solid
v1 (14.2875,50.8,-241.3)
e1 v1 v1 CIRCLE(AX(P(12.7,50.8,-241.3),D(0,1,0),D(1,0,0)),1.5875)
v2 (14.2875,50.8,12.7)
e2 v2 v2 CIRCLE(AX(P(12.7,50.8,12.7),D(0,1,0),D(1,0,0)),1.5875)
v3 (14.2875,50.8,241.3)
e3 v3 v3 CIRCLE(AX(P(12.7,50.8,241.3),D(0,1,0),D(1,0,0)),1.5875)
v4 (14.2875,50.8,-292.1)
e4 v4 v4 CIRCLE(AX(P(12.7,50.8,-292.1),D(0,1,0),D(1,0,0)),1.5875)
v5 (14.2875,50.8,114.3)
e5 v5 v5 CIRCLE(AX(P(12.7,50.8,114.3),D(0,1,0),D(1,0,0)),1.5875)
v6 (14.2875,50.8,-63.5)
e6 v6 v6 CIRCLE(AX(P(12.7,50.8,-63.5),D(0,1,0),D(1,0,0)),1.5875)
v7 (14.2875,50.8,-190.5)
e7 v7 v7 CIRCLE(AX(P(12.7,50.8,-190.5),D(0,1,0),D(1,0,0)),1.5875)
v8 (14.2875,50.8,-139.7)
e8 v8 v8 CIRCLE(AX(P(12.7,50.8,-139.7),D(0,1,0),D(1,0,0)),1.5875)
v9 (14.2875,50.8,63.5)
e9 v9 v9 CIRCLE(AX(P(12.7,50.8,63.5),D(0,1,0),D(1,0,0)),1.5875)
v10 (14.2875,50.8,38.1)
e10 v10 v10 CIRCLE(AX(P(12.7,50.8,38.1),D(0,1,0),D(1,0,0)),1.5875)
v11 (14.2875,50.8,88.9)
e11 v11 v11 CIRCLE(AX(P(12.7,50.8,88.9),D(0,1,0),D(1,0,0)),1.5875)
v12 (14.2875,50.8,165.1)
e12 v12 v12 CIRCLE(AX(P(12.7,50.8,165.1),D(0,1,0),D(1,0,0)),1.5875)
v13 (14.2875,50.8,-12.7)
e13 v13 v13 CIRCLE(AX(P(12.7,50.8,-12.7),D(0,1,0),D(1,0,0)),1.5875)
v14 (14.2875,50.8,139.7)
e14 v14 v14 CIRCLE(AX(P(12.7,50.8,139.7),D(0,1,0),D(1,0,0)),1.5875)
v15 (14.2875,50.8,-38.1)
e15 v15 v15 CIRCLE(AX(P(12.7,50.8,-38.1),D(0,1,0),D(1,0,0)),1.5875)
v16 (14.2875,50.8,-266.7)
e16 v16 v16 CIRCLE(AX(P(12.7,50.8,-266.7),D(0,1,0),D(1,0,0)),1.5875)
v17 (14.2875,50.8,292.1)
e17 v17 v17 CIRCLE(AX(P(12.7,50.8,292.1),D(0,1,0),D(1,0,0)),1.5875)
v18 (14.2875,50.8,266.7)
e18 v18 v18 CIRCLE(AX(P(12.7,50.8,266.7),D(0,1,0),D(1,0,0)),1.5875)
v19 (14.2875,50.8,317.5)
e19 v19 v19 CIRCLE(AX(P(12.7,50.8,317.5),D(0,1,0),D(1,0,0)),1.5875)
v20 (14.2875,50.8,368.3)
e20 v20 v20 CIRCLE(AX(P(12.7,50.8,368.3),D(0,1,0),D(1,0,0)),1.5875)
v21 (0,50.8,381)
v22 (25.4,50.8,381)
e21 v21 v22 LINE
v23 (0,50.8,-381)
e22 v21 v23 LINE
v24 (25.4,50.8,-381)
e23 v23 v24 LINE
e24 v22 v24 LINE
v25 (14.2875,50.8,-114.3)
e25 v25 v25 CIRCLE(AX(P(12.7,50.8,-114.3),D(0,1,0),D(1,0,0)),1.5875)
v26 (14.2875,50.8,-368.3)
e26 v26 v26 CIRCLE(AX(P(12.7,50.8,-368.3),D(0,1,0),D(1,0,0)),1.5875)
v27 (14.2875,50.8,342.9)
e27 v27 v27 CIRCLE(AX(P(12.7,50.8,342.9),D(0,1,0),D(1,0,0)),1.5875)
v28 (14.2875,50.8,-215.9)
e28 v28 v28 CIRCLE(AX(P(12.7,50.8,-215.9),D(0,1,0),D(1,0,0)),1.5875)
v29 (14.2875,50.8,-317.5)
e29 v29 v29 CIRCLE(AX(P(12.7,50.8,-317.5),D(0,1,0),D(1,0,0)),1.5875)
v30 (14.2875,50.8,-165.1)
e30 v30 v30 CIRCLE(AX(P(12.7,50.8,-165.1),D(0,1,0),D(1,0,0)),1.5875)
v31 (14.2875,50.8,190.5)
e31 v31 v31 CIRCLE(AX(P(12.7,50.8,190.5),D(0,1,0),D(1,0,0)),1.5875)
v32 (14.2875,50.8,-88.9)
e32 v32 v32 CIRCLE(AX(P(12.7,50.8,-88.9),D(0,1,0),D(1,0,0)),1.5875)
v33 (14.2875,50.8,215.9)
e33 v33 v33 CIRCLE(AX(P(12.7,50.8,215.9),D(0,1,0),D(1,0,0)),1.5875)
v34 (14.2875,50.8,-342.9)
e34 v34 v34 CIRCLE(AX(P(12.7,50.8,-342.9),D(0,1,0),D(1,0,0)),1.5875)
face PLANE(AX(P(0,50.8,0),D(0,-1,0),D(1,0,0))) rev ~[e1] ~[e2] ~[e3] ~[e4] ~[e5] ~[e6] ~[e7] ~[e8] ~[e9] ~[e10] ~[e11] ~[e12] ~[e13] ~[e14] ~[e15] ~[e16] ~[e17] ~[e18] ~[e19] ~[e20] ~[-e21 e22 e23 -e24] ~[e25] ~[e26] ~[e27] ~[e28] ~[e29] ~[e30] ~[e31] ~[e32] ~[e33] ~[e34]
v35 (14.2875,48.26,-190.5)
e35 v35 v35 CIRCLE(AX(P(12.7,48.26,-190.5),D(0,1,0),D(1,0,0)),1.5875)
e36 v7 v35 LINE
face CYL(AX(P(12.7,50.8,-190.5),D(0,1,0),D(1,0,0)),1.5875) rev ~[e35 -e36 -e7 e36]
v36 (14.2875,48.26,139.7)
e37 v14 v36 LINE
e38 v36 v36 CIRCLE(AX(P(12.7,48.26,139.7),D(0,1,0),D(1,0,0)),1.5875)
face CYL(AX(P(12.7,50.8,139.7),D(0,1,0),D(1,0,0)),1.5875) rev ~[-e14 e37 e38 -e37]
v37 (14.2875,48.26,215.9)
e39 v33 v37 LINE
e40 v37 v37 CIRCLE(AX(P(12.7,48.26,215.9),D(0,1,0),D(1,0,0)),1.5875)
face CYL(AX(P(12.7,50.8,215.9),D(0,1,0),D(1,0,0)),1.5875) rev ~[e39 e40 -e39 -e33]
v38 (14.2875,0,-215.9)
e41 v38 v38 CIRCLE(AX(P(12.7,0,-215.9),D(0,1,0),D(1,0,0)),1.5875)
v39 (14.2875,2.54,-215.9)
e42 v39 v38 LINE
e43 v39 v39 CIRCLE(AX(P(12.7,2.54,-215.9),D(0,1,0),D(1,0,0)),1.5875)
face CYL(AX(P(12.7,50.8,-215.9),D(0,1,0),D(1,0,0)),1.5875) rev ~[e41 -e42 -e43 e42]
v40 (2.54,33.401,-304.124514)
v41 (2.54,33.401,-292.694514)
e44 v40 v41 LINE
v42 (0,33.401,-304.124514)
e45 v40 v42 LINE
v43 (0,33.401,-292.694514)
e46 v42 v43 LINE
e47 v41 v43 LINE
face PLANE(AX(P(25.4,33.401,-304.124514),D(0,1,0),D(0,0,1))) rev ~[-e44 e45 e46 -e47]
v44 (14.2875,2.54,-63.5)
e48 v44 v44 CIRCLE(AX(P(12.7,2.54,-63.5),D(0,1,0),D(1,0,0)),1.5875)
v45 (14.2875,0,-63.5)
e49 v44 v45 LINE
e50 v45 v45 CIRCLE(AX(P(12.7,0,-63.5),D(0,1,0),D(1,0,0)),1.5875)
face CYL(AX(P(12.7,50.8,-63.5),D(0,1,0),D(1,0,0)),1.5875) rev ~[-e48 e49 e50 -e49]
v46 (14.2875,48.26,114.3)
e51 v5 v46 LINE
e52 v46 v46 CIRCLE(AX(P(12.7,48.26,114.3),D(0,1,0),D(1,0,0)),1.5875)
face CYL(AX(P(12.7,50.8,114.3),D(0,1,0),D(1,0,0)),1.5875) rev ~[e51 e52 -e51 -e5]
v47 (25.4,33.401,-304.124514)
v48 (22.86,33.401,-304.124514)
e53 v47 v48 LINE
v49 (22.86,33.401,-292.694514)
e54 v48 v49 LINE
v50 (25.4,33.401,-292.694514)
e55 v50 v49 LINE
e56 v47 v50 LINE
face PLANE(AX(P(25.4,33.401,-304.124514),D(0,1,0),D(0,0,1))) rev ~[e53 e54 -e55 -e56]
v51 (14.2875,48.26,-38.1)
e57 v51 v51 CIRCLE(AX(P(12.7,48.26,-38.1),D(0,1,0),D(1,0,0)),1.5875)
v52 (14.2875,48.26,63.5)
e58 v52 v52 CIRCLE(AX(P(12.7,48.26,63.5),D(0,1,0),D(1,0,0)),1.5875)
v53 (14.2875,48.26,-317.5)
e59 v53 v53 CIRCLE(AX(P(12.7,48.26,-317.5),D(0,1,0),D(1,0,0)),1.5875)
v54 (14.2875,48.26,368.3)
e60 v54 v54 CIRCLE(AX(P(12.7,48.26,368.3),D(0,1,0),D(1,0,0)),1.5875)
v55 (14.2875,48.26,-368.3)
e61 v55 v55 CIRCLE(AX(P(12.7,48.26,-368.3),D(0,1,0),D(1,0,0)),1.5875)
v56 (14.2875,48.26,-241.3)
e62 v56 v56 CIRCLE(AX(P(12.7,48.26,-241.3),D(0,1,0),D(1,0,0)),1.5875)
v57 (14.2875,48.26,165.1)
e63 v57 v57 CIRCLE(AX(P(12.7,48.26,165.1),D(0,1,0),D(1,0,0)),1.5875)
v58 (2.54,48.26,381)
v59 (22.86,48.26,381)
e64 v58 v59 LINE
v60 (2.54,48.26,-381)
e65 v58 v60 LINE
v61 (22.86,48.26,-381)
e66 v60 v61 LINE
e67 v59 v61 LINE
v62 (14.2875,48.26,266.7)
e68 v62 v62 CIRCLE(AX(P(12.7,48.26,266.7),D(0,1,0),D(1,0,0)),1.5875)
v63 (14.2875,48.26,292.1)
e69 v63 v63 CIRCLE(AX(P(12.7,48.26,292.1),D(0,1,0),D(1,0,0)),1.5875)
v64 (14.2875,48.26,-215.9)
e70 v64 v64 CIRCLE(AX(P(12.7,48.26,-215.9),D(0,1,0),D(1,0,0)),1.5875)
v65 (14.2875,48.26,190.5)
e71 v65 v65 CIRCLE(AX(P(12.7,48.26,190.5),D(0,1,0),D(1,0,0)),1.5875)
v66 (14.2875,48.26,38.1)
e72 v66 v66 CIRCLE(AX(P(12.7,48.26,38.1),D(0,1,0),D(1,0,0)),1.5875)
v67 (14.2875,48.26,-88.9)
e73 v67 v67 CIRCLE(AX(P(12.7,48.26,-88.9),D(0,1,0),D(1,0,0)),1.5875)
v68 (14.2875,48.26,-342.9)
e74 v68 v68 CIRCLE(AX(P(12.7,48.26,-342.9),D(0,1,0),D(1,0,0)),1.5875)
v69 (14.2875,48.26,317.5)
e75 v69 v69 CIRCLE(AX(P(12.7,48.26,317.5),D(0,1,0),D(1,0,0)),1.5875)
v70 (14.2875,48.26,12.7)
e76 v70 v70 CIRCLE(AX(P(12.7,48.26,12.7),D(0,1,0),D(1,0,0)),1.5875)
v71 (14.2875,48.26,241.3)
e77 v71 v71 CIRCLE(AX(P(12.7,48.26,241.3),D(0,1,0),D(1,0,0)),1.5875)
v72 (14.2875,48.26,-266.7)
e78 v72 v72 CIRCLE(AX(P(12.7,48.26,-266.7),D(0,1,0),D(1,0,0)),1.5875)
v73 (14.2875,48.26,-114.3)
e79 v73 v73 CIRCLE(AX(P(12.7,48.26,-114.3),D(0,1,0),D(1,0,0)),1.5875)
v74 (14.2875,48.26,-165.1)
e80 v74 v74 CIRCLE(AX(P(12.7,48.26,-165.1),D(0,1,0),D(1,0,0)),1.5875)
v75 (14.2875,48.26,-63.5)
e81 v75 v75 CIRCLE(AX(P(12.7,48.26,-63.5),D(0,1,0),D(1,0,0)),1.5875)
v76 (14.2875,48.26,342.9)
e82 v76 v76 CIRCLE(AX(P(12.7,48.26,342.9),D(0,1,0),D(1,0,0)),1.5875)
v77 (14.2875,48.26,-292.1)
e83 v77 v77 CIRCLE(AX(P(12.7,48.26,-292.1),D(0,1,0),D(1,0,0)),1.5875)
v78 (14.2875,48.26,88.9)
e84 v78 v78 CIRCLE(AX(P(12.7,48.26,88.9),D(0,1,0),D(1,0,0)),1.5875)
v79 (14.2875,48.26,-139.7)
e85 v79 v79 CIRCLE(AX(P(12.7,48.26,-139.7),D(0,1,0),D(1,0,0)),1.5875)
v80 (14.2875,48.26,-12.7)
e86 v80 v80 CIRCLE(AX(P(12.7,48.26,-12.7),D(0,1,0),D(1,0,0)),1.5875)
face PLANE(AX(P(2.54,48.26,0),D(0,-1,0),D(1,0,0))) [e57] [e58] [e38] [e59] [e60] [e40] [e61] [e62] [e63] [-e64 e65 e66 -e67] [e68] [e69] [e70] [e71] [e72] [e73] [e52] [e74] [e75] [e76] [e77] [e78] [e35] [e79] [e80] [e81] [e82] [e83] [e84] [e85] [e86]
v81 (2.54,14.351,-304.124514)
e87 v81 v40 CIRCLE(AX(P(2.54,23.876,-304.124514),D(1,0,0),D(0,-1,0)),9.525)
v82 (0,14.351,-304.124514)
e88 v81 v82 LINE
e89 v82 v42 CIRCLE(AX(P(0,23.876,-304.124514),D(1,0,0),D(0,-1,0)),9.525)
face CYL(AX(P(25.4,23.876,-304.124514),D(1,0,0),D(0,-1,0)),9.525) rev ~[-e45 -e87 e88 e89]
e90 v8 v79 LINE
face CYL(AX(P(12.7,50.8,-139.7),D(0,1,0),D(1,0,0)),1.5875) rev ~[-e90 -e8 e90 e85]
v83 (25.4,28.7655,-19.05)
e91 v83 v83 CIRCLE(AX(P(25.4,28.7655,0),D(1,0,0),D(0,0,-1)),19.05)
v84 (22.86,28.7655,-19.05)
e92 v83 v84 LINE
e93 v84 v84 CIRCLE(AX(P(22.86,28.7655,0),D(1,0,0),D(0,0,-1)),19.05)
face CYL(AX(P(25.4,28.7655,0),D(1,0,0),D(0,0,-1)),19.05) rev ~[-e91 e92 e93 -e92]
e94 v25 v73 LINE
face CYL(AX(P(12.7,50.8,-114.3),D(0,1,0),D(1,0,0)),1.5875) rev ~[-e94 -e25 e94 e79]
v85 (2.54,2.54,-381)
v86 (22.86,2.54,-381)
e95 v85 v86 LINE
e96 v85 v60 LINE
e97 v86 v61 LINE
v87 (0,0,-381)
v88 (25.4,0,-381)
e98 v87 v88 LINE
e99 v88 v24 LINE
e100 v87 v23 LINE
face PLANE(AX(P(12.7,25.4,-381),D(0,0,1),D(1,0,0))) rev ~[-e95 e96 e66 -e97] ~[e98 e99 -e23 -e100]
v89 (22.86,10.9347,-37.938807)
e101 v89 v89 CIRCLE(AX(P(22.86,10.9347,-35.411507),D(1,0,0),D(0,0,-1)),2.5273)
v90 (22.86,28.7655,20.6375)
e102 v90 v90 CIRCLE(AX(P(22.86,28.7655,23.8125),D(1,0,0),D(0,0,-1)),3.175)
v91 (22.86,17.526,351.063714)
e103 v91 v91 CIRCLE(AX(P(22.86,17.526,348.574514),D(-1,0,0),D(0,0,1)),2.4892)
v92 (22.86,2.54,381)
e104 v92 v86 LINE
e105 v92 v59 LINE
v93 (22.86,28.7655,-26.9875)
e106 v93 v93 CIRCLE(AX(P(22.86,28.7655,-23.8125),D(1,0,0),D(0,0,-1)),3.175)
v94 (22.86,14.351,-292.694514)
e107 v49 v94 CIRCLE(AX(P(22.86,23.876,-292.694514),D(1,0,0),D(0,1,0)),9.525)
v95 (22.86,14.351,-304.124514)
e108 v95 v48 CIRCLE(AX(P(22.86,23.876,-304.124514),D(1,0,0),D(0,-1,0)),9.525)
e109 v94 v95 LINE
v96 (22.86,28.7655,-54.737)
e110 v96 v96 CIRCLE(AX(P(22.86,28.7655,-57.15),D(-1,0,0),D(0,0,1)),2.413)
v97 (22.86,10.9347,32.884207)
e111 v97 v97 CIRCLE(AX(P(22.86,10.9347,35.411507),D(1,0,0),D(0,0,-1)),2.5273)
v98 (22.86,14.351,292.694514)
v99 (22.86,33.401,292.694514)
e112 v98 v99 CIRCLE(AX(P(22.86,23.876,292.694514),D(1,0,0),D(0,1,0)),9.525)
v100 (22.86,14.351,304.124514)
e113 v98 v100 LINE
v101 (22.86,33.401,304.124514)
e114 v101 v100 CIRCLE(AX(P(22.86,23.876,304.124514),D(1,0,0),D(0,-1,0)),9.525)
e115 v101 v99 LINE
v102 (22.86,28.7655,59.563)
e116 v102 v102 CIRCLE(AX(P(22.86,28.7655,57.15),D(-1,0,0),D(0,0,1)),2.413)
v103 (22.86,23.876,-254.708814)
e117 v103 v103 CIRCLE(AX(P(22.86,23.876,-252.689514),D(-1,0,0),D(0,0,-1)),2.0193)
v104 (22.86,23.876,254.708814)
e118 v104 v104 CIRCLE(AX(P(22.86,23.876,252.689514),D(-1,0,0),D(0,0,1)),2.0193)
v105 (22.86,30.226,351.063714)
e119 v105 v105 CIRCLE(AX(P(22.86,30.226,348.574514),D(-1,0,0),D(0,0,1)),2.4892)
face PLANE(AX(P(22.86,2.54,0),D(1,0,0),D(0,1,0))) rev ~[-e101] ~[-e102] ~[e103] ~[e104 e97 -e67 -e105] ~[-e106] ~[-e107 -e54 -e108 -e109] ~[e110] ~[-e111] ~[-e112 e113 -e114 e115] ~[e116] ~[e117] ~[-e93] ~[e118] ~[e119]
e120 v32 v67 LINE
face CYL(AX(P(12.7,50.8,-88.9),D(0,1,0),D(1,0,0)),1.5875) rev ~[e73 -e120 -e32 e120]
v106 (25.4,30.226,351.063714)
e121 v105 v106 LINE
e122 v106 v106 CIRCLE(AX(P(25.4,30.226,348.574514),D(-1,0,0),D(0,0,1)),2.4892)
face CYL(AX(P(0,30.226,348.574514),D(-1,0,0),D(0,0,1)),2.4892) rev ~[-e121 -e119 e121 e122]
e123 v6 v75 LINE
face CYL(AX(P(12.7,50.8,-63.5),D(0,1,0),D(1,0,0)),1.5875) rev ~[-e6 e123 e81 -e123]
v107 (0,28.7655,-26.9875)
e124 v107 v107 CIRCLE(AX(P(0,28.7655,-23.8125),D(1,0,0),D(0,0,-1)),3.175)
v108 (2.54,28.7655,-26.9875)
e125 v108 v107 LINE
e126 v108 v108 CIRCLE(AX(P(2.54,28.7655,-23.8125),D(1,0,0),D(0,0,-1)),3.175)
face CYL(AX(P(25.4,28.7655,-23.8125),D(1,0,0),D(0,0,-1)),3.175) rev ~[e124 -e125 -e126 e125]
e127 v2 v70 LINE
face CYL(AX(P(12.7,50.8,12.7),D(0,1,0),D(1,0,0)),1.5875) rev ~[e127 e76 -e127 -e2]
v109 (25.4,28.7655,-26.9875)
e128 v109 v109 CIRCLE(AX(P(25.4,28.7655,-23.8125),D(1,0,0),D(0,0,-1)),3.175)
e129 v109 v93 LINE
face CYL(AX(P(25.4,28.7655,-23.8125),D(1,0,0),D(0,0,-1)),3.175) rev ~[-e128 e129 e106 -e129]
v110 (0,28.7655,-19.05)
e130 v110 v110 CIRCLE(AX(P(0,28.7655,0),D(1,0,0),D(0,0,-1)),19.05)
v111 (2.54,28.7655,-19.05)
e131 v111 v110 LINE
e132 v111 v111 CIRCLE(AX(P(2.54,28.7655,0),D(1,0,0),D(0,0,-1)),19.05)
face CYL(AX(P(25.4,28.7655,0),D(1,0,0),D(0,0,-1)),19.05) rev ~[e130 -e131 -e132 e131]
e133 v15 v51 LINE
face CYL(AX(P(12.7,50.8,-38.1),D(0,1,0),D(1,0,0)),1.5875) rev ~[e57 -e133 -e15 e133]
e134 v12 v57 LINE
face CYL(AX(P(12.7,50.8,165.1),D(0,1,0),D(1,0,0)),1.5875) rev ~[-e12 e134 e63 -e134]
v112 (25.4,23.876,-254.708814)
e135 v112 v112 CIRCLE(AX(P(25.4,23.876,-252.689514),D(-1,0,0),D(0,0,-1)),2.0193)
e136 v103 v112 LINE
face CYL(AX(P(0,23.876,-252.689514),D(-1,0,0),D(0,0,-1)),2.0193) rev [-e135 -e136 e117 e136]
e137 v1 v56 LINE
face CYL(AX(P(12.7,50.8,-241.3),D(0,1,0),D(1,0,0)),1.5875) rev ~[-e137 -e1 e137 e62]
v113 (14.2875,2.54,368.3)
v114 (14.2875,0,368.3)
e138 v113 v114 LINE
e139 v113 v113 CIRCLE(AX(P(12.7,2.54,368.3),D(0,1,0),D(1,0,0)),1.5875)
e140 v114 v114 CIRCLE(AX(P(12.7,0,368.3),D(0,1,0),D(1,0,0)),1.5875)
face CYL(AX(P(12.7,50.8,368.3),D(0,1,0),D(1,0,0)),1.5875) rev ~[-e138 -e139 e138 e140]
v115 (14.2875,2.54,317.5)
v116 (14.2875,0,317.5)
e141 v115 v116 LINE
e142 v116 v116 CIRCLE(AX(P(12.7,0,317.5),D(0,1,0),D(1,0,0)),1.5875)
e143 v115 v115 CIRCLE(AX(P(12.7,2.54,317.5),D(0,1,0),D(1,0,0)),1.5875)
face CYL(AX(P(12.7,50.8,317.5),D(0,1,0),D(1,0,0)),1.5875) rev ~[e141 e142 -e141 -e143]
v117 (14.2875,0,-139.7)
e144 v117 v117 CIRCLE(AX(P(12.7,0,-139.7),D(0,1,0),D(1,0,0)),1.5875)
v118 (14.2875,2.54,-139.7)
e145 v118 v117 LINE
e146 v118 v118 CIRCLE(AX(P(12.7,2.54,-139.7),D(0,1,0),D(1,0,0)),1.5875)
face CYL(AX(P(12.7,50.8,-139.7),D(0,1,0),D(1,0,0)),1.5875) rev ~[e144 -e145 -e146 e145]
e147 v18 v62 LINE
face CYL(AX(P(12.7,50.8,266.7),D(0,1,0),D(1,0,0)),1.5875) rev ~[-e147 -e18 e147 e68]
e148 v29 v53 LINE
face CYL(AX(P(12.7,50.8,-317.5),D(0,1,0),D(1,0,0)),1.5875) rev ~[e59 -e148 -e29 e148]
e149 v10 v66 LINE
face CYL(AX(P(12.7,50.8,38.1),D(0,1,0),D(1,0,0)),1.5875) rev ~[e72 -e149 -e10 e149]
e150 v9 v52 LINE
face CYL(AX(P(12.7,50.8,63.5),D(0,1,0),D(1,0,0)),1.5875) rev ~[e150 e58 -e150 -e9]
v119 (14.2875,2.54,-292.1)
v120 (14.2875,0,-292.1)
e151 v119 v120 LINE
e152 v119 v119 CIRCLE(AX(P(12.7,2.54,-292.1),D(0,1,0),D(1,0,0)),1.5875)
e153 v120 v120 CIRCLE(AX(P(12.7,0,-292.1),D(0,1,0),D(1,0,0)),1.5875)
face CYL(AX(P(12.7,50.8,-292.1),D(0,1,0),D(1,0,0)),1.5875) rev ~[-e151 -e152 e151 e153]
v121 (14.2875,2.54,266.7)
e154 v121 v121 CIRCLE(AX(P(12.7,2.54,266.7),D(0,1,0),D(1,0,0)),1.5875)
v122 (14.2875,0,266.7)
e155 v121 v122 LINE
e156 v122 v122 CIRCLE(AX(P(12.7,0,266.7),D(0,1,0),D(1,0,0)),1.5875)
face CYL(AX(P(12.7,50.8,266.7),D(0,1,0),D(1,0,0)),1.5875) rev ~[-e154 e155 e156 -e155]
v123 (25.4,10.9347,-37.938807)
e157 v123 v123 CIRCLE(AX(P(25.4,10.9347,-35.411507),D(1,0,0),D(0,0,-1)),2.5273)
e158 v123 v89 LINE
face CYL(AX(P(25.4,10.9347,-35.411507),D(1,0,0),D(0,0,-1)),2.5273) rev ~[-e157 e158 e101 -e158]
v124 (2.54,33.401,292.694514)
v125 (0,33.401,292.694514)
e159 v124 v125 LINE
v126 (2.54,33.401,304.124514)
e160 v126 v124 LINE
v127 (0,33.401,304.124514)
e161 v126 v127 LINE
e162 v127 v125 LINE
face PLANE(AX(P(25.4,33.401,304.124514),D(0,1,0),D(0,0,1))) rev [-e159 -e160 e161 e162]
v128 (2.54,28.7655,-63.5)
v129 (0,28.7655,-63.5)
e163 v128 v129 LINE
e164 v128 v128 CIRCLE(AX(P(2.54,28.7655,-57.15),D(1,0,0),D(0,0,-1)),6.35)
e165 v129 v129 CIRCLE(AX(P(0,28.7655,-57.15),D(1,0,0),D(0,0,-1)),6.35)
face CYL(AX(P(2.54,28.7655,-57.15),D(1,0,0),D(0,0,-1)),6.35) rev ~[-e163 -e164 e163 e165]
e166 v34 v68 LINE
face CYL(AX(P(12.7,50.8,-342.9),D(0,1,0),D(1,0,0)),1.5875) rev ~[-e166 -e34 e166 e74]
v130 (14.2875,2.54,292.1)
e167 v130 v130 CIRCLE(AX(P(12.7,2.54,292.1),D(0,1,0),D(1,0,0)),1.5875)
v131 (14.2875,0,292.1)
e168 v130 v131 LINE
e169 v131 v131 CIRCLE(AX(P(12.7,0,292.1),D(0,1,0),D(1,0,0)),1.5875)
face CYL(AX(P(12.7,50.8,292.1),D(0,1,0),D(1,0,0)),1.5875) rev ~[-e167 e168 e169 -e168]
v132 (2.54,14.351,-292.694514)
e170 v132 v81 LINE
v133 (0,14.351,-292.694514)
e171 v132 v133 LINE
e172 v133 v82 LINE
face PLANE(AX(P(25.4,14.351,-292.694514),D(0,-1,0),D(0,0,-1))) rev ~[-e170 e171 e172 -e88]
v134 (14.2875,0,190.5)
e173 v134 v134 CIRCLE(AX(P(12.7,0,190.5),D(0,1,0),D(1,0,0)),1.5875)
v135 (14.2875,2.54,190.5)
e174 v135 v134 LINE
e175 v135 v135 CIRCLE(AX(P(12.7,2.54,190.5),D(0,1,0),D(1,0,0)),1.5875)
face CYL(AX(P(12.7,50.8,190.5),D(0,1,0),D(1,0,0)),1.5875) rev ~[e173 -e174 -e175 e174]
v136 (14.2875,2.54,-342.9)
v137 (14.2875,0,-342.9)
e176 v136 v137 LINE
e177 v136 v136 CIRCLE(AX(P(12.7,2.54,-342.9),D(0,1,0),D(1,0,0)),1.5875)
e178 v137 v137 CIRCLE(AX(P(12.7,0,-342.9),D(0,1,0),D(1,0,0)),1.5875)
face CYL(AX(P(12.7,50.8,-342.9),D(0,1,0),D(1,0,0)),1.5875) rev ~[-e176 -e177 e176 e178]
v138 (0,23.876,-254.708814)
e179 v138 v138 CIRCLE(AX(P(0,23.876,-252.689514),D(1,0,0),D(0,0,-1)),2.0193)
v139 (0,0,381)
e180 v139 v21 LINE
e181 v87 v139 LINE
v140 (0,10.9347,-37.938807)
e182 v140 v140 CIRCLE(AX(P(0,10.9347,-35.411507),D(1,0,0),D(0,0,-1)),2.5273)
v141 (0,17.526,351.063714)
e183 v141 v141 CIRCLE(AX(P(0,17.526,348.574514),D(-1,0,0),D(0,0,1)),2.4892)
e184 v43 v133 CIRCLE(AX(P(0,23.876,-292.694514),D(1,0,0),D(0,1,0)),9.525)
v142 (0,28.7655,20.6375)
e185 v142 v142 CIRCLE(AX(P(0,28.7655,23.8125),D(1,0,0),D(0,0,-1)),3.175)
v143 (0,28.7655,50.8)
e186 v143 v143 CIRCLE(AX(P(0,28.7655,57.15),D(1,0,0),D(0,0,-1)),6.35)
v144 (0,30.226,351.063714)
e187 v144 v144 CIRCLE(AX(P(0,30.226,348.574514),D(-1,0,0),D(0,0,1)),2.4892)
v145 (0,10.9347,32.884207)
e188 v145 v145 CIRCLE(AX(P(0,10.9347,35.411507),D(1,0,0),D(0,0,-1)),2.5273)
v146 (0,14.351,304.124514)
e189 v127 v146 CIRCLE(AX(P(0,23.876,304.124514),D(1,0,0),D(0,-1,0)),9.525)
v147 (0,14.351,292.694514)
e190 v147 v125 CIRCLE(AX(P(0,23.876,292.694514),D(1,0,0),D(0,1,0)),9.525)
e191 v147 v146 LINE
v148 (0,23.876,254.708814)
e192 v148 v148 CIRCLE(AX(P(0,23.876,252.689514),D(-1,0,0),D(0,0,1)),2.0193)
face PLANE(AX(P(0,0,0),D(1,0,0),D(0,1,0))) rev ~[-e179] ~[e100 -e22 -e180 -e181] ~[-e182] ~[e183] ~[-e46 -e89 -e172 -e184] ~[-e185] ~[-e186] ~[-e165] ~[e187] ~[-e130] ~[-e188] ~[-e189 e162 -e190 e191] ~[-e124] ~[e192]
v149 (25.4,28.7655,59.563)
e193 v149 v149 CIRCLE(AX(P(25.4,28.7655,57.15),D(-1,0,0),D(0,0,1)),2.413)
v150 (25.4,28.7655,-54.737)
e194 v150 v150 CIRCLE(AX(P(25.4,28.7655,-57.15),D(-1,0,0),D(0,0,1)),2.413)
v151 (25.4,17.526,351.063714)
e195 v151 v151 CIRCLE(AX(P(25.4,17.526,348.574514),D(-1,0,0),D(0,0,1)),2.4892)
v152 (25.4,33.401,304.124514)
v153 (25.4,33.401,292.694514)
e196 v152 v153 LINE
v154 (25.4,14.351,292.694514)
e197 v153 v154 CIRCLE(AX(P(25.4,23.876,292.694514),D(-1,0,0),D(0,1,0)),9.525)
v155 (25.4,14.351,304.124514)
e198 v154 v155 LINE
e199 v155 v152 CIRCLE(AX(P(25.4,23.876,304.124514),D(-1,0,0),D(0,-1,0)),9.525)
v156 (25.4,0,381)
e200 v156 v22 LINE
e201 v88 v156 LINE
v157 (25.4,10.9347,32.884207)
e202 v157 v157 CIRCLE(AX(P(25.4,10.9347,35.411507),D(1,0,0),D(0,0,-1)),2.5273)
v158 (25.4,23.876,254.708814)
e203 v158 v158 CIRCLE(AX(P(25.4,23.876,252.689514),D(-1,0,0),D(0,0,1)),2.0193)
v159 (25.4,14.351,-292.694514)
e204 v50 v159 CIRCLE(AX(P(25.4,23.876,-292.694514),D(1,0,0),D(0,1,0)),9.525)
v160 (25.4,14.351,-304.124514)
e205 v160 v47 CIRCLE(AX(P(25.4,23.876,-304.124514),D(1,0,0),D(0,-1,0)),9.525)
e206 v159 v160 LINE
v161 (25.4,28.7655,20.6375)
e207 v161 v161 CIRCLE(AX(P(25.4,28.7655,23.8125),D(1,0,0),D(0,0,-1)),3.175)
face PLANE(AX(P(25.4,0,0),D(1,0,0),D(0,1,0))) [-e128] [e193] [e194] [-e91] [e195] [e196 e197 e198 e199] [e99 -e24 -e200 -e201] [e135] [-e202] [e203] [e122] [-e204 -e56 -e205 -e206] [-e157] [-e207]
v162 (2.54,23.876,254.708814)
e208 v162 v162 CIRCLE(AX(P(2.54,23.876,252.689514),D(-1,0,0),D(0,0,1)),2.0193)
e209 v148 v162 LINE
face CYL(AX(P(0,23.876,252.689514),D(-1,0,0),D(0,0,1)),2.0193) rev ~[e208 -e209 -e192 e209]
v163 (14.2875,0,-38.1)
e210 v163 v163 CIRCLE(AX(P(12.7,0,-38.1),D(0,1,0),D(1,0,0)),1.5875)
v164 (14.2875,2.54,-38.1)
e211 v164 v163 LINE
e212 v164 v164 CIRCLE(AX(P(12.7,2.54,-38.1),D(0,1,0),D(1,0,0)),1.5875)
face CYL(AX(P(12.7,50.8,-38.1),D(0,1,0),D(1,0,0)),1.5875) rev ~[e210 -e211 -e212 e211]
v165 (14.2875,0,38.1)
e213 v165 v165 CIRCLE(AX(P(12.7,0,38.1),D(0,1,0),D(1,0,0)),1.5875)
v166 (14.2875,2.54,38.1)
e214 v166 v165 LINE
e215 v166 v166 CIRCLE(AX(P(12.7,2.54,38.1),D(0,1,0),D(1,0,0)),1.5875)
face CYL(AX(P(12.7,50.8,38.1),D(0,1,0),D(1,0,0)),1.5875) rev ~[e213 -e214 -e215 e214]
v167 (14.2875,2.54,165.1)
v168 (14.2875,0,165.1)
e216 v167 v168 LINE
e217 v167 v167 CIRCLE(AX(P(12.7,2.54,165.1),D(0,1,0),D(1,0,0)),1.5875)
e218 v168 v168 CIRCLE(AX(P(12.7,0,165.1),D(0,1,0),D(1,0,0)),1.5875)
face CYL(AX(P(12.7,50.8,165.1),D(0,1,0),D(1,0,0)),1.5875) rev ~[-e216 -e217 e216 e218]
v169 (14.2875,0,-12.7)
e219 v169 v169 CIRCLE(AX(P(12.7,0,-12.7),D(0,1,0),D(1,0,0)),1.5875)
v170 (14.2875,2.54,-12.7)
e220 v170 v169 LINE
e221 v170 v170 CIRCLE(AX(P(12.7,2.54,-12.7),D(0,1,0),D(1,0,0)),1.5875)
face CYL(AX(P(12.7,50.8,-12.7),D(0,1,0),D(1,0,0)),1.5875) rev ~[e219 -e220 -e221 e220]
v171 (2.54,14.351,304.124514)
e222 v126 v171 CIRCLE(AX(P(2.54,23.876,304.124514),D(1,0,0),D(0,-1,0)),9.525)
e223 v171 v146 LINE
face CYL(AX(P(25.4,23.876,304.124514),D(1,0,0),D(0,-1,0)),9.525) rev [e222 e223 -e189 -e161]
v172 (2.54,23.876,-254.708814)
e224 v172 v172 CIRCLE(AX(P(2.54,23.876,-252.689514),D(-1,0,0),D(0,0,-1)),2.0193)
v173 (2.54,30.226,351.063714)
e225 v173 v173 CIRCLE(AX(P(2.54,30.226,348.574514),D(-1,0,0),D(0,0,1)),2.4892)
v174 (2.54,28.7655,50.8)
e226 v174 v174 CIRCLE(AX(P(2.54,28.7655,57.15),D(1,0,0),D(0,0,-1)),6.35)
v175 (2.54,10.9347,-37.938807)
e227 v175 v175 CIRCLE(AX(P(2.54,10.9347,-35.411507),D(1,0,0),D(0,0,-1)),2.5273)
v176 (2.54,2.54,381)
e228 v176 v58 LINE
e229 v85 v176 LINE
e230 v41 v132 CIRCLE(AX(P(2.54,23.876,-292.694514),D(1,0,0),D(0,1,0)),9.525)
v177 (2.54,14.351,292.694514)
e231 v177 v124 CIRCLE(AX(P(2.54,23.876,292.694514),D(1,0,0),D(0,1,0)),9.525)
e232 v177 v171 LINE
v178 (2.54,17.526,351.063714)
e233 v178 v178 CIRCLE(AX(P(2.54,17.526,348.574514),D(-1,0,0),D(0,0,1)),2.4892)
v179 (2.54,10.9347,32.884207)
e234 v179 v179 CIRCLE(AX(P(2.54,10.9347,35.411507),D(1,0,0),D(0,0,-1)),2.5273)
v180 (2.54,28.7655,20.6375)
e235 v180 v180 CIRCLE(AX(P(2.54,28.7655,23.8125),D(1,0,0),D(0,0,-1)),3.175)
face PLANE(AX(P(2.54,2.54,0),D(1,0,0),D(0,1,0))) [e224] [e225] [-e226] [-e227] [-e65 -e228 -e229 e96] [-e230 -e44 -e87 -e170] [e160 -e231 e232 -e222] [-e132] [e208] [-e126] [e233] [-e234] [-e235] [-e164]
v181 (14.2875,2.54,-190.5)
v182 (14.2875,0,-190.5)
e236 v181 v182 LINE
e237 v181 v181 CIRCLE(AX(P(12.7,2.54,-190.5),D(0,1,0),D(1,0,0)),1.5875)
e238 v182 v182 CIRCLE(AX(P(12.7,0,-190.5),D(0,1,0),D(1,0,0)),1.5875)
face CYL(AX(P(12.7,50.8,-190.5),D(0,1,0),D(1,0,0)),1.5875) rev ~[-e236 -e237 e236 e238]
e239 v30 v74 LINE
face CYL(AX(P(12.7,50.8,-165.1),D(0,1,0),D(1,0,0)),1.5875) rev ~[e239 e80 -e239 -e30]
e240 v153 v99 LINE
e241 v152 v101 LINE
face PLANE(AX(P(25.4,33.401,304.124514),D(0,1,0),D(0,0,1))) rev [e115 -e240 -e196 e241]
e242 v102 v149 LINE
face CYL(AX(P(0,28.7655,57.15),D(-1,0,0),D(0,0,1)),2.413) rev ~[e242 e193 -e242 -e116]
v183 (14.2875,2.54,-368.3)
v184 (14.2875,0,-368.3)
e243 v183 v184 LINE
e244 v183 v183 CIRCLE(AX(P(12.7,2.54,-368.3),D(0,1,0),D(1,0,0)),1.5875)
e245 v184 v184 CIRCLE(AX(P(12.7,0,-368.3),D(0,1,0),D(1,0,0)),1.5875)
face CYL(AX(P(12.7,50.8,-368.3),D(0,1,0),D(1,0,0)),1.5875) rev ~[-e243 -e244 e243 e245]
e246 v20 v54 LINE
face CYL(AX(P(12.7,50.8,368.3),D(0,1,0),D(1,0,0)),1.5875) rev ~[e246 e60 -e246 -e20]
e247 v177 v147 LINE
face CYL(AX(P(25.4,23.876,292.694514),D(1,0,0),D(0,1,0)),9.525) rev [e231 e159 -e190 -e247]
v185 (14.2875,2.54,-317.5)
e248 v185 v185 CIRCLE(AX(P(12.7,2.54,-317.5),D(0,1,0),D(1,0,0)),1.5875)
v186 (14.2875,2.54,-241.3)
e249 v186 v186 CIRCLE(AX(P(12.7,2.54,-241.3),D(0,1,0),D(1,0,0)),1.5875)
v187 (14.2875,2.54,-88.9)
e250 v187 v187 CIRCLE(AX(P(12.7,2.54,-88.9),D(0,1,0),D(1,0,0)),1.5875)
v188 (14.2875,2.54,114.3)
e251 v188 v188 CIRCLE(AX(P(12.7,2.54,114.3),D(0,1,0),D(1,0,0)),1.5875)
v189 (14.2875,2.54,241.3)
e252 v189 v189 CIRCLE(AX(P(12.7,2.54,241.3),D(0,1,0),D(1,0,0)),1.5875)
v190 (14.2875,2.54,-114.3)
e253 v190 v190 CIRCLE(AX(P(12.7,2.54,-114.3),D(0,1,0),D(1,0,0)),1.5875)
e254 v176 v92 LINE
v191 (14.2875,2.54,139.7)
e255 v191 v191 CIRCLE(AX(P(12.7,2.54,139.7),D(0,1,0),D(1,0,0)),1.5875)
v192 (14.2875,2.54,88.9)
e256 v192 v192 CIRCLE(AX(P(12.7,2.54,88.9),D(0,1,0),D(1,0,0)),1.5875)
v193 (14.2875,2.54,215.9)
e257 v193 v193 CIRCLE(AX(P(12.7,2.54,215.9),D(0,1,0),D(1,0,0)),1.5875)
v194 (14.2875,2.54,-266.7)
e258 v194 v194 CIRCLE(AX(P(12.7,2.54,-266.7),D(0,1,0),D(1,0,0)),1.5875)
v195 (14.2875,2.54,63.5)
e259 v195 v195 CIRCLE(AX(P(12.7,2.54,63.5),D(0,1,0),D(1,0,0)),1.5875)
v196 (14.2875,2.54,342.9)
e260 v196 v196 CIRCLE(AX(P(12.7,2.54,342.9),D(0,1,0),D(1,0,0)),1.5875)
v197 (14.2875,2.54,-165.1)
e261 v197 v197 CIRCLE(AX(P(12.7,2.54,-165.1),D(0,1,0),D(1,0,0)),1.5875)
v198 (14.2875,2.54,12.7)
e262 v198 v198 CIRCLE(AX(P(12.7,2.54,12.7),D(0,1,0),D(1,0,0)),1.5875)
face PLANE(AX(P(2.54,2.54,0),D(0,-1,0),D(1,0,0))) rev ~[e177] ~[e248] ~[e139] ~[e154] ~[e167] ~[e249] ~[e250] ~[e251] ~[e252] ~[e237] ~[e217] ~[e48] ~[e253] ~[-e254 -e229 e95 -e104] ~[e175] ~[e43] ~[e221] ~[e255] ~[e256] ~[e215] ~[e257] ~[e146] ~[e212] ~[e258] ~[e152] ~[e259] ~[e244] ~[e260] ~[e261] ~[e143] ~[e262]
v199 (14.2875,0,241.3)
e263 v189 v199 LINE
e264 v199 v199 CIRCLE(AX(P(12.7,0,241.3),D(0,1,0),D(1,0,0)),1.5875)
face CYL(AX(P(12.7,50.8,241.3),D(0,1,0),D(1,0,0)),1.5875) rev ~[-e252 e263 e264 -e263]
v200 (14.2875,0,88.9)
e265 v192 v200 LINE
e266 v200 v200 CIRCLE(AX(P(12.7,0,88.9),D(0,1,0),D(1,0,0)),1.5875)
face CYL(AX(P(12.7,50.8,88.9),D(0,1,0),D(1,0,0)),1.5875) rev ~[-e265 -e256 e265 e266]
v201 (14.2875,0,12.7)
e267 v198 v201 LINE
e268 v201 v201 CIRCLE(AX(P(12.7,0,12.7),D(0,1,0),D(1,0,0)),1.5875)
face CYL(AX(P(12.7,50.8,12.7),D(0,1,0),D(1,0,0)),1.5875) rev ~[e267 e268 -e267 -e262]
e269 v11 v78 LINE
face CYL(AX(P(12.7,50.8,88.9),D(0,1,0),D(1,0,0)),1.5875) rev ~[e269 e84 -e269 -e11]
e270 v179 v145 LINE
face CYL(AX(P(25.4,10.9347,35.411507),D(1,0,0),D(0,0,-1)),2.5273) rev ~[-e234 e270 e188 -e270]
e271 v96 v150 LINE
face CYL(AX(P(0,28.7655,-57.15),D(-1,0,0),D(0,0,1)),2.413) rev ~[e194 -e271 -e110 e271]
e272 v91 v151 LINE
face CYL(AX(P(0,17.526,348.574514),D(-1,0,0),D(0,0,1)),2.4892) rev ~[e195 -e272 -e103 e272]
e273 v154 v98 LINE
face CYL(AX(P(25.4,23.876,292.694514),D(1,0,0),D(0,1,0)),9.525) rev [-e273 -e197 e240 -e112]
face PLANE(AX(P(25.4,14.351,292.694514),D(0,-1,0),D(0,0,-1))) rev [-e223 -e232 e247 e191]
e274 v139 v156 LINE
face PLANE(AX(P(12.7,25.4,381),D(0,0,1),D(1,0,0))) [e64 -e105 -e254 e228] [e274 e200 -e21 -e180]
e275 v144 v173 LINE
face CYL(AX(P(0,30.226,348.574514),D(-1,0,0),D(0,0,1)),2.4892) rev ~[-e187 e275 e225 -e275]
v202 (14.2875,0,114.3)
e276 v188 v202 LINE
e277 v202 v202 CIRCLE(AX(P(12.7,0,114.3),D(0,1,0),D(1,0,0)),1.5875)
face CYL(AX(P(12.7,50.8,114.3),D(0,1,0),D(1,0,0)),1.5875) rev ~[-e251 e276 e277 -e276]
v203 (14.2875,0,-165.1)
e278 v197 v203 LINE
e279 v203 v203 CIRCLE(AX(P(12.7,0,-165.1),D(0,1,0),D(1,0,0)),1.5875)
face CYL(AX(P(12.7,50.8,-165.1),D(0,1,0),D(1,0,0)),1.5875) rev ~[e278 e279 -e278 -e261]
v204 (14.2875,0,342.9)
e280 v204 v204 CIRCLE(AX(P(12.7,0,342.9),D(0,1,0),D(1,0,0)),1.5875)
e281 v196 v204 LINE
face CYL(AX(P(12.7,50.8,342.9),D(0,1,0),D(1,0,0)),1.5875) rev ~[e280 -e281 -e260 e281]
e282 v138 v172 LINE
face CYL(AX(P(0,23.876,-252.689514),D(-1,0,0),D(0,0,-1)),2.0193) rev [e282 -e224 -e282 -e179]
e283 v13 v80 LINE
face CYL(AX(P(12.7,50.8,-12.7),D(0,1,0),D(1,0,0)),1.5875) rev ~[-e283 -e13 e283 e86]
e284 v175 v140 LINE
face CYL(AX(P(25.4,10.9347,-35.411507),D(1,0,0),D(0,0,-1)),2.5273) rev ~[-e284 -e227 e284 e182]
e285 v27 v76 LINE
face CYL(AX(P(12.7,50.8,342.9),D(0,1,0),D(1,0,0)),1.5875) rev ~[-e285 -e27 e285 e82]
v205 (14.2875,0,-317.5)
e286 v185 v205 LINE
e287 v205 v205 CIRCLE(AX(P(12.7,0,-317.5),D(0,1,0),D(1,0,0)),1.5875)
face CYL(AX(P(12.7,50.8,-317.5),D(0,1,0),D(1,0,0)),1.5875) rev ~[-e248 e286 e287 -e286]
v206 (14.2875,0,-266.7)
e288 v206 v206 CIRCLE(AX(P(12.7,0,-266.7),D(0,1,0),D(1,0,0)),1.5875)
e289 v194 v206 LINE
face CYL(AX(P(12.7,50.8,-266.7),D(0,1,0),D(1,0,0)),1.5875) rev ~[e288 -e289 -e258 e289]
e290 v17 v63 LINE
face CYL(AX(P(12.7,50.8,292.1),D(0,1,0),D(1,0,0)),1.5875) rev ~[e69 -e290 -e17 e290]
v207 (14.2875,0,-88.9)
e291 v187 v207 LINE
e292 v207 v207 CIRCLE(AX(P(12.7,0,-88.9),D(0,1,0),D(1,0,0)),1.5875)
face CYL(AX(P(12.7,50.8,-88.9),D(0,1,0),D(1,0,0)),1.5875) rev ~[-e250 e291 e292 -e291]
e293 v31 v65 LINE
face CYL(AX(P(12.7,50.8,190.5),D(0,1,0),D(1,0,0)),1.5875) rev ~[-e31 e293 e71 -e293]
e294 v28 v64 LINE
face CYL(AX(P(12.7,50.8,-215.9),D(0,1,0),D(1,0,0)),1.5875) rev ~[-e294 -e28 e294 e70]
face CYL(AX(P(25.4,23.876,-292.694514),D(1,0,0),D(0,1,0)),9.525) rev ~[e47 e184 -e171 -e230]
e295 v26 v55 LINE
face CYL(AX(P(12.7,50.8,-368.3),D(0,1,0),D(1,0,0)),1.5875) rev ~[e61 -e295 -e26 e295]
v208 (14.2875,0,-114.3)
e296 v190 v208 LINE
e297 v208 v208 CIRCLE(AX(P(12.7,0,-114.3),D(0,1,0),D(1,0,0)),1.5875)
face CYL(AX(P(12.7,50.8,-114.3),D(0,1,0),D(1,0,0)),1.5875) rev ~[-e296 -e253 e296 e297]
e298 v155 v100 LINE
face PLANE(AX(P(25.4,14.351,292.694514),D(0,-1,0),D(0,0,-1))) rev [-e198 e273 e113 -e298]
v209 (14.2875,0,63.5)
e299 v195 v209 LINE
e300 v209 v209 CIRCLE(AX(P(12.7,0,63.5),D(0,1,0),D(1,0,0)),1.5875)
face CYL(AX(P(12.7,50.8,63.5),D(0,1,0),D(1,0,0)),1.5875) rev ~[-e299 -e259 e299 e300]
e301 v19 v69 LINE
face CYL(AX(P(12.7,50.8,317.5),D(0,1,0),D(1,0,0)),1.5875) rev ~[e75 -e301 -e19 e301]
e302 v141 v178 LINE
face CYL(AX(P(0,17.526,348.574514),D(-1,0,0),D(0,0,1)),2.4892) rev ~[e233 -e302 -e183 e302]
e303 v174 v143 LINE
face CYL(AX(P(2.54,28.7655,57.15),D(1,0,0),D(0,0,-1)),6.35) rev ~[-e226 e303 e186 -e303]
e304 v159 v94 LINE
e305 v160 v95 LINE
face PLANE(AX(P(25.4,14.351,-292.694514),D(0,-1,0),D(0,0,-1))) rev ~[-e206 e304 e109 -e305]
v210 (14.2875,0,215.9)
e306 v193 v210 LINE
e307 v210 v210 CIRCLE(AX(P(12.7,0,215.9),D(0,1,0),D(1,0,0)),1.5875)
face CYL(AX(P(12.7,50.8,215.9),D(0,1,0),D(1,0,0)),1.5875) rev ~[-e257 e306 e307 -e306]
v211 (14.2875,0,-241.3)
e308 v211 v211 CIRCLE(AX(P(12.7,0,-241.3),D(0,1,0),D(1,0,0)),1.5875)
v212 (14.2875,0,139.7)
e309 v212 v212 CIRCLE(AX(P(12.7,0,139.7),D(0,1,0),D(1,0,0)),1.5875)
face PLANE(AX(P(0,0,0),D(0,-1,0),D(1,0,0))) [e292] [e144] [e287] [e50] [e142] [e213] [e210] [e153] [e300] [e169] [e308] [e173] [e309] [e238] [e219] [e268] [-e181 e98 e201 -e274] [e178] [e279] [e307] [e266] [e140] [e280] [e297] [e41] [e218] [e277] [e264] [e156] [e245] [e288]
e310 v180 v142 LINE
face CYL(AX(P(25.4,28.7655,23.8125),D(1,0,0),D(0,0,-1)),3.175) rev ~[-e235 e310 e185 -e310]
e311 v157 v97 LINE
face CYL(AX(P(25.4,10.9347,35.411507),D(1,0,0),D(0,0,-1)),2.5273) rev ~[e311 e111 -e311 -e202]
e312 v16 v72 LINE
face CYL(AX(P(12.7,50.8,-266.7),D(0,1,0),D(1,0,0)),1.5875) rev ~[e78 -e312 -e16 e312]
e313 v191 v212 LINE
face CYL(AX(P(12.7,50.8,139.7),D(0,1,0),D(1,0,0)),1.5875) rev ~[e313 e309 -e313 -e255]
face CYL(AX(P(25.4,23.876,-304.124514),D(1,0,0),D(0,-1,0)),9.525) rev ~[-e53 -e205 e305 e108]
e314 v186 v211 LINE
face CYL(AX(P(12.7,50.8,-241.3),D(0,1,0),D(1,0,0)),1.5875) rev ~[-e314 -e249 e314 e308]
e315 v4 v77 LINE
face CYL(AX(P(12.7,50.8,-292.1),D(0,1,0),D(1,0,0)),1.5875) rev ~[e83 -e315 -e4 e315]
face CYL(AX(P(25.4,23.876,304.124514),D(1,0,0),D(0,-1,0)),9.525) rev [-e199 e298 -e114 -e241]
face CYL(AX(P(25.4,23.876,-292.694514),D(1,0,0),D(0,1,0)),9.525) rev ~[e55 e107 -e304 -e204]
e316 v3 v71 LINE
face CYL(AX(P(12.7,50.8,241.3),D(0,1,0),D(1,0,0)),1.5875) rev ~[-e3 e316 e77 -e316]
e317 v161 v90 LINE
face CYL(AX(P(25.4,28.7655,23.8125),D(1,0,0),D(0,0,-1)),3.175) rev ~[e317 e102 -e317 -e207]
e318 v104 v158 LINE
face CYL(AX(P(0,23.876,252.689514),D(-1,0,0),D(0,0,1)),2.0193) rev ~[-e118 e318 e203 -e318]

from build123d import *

# Parameters (mm, degrees)
SKETCH1_W           = 25.4
SKETCH1_H           = 50.8
SKETCH1_W_2         = 20.32
SKETCH1_H_2         = 45.72
EXTRUDE_THIN1_DEPTH = 381
SKETCH3_R           = 1.5875
CUT_EXTRUDE2_DEPTH  = 51.8
LPATTERN1_COUNT     = 220
LPATTERN1_PITCH     = 25.4
SKETCH6_R           = 19.05
SKETCH6_R_2         = 3.175
CUT_EXTRUDE5_DEPTH  = 26.4
SKETCH4_R           = 9.525
CUT_EXTRUDE3_DEPTH  = 26.4
CUT_EXTRUDE6_START  = -22.86
SKETCH7_R           = 6.35
CUT_EXTRUDE6_DEPTH  = 2.54
SKETCH8_R           = 2.5273
CUT_EXTRUDE7_DEPTH  = 26.4
SKETCH9_R           = 2.0193
CUT_EXTRUDE8_DEPTH  = 26.4
SKETCH10_R          = 2.4892
CUT_EXTRUDE9_DEPTH  = 26.4
SKETCH11_R          = 2.413
CUT_EXTRUDE10_DEPTH = 26.4


with BuildPart() as part:
    # Sketch1 → Extrude-Thin1 (new body, symmetric)
    with BuildSketch(Plane.XY):
        with Locations((12.7, 25.4)):
            Rectangle(SKETCH1_W, SKETCH1_H)
        with Locations((12.7, 25.4)):
            Rectangle(SKETCH1_W_2, SKETCH1_H_2, mode=Mode.SUBTRACT)
    extrude(amount=EXTRUDE_THIN1_DEPTH, both=True)

    # Sketch3 → Cut-Extrude2 (cut, through all)
    with BuildSketch(Plane(origin=(0, 50.8, 0), x_dir=(1, 0, 0), z_dir=(0, 1, 0))):
        with Locations((12.7, -368.3)):
            Circle(SKETCH3_R)
    cut_extrude2 = extrude(amount=-CUT_EXTRUDE2_DEPTH, mode=Mode.SUBTRACT)

    # LPattern1: Cut-Extrude2 ×220
    with Locations(*[(0, 0, -i * LPATTERN1_PITCH) for i in range(1, LPATTERN1_COUNT)]):
        add(cut_extrude2, mode=Mode.SUBTRACT)

    # Sketch6 → Cut-Extrude5 (cut, through all)
    with BuildSketch(Plane(origin=(25.4, 0, 0), x_dir=(0, 0, -1), z_dir=(1, 0, 0))):
        with Locations((0, 28.7655)):
            Circle(SKETCH6_R)
        with Locations((23.8125, 28.7655)):
            Circle(SKETCH6_R_2)
        with Locations((-23.8125, 28.7655)):
            Circle(SKETCH6_R_2)
    extrude(amount=-CUT_EXTRUDE5_DEPTH, mode=Mode.SUBTRACT)

    # Sketch4 → Cut-Extrude3 (cut, through all)
    with BuildSketch(Plane(origin=(25.4, 0, 0), x_dir=(0, 0, -1), z_dir=(1, 0, 0))):
        with Locations((295.234514267, 23.876)):
            Circle(SKETCH4_R)
        with BuildLine():
            Line((304.124514267, 33.401), (295.234514267, 33.401))
            ThreePointArc((295.234514267, 33.401), (301.969706358, 30.611192091), (304.759514267, 23.876))
            ThreePointArc((304.759514267, 23.876), (301.969706356, 17.140807907), (295.234514261, 14.351))
            Line((295.234514261, 14.351), (304.124514267, 14.351))
            ThreePointArc((304.124514267, 14.351), (313.649514267, 23.876), (304.124514267, 33.401))
        make_face()
        with BuildLine():
            Line((295.234514267, 33.401), (292.694514267, 33.401))
            ThreePointArc((292.694514267, 33.401), (283.169514267, 23.876), (292.694514267, 14.351))
            Line((292.694514267, 14.351), (295.234514261, 14.351))
            ThreePointArc((295.234514261, 14.351), (285.709514267, 23.876000003), (295.234514267, 33.401))
        make_face()
    cut_extrude3 = extrude(amount=-CUT_EXTRUDE3_DEPTH, mode=Mode.SUBTRACT)

    # Mirror1: Cut-Extrude3 across plane
    add(cut_extrude3.mirror(Plane.XY), mode=Mode.SUBTRACT)

    # Sketch7 → Cut-Extrude6 (cut)
    with BuildSketch(Plane(origin=(25.4, 0, 0), x_dir=(0, 0, -1), z_dir=(1, 0, 0)).offset(CUT_EXTRUDE6_START)):
        with Locations((57.15, 28.7655)):
            Circle(SKETCH7_R)
        with Locations((-57.15, 28.7655)):
            Circle(SKETCH7_R)
    extrude(amount=-CUT_EXTRUDE6_DEPTH, mode=Mode.SUBTRACT)

    # Sketch8 → Cut-Extrude7 (cut, through all)
    with BuildSketch(Plane(origin=(25.4, 0, 0), x_dir=(0, 0, -1), z_dir=(1, 0, 0))):
        with Locations((-35.41150672, 10.9347)):
            Circle(SKETCH8_R)
        with Locations((35.41150672, 10.9347)):
            Circle(SKETCH8_R)
    extrude(amount=-CUT_EXTRUDE7_DEPTH, mode=Mode.SUBTRACT)

    # Sketch9 → Cut-Extrude8 (cut, through all)
    with BuildSketch(Plane.ZY):
        with Locations((252.689514267, 23.876)):
            Circle(SKETCH9_R)
    cut_extrude8 = extrude(amount=-CUT_EXTRUDE8_DEPTH, mode=Mode.SUBTRACT)

    # Mirror2: Cut-Extrude8 across plane
    add(cut_extrude8.mirror(Plane.XY), mode=Mode.SUBTRACT)

    # Sketch10 → Cut-Extrude9 (cut, through all)
    with BuildSketch(Plane.ZY):
        with Locations((348.574514267, 30.226)):
            Circle(SKETCH10_R)
        with Locations((348.574514267, 17.526)):
            Circle(SKETCH10_R)
    extrude(amount=-CUT_EXTRUDE9_DEPTH, mode=Mode.SUBTRACT)

    # Sketch11 → Cut-Extrude10 (cut, through all)
    with BuildSketch(Plane.ZY):
        with Locations((-57.15, 28.7655)):
            Circle(SKETCH11_R)
        with Locations((57.15, 28.7655)):
            Circle(SKETCH11_R)
    extrude(amount=-CUT_EXTRUDE10_DEPTH, mode=Mode.SUBTRACT)


solid = part.part
